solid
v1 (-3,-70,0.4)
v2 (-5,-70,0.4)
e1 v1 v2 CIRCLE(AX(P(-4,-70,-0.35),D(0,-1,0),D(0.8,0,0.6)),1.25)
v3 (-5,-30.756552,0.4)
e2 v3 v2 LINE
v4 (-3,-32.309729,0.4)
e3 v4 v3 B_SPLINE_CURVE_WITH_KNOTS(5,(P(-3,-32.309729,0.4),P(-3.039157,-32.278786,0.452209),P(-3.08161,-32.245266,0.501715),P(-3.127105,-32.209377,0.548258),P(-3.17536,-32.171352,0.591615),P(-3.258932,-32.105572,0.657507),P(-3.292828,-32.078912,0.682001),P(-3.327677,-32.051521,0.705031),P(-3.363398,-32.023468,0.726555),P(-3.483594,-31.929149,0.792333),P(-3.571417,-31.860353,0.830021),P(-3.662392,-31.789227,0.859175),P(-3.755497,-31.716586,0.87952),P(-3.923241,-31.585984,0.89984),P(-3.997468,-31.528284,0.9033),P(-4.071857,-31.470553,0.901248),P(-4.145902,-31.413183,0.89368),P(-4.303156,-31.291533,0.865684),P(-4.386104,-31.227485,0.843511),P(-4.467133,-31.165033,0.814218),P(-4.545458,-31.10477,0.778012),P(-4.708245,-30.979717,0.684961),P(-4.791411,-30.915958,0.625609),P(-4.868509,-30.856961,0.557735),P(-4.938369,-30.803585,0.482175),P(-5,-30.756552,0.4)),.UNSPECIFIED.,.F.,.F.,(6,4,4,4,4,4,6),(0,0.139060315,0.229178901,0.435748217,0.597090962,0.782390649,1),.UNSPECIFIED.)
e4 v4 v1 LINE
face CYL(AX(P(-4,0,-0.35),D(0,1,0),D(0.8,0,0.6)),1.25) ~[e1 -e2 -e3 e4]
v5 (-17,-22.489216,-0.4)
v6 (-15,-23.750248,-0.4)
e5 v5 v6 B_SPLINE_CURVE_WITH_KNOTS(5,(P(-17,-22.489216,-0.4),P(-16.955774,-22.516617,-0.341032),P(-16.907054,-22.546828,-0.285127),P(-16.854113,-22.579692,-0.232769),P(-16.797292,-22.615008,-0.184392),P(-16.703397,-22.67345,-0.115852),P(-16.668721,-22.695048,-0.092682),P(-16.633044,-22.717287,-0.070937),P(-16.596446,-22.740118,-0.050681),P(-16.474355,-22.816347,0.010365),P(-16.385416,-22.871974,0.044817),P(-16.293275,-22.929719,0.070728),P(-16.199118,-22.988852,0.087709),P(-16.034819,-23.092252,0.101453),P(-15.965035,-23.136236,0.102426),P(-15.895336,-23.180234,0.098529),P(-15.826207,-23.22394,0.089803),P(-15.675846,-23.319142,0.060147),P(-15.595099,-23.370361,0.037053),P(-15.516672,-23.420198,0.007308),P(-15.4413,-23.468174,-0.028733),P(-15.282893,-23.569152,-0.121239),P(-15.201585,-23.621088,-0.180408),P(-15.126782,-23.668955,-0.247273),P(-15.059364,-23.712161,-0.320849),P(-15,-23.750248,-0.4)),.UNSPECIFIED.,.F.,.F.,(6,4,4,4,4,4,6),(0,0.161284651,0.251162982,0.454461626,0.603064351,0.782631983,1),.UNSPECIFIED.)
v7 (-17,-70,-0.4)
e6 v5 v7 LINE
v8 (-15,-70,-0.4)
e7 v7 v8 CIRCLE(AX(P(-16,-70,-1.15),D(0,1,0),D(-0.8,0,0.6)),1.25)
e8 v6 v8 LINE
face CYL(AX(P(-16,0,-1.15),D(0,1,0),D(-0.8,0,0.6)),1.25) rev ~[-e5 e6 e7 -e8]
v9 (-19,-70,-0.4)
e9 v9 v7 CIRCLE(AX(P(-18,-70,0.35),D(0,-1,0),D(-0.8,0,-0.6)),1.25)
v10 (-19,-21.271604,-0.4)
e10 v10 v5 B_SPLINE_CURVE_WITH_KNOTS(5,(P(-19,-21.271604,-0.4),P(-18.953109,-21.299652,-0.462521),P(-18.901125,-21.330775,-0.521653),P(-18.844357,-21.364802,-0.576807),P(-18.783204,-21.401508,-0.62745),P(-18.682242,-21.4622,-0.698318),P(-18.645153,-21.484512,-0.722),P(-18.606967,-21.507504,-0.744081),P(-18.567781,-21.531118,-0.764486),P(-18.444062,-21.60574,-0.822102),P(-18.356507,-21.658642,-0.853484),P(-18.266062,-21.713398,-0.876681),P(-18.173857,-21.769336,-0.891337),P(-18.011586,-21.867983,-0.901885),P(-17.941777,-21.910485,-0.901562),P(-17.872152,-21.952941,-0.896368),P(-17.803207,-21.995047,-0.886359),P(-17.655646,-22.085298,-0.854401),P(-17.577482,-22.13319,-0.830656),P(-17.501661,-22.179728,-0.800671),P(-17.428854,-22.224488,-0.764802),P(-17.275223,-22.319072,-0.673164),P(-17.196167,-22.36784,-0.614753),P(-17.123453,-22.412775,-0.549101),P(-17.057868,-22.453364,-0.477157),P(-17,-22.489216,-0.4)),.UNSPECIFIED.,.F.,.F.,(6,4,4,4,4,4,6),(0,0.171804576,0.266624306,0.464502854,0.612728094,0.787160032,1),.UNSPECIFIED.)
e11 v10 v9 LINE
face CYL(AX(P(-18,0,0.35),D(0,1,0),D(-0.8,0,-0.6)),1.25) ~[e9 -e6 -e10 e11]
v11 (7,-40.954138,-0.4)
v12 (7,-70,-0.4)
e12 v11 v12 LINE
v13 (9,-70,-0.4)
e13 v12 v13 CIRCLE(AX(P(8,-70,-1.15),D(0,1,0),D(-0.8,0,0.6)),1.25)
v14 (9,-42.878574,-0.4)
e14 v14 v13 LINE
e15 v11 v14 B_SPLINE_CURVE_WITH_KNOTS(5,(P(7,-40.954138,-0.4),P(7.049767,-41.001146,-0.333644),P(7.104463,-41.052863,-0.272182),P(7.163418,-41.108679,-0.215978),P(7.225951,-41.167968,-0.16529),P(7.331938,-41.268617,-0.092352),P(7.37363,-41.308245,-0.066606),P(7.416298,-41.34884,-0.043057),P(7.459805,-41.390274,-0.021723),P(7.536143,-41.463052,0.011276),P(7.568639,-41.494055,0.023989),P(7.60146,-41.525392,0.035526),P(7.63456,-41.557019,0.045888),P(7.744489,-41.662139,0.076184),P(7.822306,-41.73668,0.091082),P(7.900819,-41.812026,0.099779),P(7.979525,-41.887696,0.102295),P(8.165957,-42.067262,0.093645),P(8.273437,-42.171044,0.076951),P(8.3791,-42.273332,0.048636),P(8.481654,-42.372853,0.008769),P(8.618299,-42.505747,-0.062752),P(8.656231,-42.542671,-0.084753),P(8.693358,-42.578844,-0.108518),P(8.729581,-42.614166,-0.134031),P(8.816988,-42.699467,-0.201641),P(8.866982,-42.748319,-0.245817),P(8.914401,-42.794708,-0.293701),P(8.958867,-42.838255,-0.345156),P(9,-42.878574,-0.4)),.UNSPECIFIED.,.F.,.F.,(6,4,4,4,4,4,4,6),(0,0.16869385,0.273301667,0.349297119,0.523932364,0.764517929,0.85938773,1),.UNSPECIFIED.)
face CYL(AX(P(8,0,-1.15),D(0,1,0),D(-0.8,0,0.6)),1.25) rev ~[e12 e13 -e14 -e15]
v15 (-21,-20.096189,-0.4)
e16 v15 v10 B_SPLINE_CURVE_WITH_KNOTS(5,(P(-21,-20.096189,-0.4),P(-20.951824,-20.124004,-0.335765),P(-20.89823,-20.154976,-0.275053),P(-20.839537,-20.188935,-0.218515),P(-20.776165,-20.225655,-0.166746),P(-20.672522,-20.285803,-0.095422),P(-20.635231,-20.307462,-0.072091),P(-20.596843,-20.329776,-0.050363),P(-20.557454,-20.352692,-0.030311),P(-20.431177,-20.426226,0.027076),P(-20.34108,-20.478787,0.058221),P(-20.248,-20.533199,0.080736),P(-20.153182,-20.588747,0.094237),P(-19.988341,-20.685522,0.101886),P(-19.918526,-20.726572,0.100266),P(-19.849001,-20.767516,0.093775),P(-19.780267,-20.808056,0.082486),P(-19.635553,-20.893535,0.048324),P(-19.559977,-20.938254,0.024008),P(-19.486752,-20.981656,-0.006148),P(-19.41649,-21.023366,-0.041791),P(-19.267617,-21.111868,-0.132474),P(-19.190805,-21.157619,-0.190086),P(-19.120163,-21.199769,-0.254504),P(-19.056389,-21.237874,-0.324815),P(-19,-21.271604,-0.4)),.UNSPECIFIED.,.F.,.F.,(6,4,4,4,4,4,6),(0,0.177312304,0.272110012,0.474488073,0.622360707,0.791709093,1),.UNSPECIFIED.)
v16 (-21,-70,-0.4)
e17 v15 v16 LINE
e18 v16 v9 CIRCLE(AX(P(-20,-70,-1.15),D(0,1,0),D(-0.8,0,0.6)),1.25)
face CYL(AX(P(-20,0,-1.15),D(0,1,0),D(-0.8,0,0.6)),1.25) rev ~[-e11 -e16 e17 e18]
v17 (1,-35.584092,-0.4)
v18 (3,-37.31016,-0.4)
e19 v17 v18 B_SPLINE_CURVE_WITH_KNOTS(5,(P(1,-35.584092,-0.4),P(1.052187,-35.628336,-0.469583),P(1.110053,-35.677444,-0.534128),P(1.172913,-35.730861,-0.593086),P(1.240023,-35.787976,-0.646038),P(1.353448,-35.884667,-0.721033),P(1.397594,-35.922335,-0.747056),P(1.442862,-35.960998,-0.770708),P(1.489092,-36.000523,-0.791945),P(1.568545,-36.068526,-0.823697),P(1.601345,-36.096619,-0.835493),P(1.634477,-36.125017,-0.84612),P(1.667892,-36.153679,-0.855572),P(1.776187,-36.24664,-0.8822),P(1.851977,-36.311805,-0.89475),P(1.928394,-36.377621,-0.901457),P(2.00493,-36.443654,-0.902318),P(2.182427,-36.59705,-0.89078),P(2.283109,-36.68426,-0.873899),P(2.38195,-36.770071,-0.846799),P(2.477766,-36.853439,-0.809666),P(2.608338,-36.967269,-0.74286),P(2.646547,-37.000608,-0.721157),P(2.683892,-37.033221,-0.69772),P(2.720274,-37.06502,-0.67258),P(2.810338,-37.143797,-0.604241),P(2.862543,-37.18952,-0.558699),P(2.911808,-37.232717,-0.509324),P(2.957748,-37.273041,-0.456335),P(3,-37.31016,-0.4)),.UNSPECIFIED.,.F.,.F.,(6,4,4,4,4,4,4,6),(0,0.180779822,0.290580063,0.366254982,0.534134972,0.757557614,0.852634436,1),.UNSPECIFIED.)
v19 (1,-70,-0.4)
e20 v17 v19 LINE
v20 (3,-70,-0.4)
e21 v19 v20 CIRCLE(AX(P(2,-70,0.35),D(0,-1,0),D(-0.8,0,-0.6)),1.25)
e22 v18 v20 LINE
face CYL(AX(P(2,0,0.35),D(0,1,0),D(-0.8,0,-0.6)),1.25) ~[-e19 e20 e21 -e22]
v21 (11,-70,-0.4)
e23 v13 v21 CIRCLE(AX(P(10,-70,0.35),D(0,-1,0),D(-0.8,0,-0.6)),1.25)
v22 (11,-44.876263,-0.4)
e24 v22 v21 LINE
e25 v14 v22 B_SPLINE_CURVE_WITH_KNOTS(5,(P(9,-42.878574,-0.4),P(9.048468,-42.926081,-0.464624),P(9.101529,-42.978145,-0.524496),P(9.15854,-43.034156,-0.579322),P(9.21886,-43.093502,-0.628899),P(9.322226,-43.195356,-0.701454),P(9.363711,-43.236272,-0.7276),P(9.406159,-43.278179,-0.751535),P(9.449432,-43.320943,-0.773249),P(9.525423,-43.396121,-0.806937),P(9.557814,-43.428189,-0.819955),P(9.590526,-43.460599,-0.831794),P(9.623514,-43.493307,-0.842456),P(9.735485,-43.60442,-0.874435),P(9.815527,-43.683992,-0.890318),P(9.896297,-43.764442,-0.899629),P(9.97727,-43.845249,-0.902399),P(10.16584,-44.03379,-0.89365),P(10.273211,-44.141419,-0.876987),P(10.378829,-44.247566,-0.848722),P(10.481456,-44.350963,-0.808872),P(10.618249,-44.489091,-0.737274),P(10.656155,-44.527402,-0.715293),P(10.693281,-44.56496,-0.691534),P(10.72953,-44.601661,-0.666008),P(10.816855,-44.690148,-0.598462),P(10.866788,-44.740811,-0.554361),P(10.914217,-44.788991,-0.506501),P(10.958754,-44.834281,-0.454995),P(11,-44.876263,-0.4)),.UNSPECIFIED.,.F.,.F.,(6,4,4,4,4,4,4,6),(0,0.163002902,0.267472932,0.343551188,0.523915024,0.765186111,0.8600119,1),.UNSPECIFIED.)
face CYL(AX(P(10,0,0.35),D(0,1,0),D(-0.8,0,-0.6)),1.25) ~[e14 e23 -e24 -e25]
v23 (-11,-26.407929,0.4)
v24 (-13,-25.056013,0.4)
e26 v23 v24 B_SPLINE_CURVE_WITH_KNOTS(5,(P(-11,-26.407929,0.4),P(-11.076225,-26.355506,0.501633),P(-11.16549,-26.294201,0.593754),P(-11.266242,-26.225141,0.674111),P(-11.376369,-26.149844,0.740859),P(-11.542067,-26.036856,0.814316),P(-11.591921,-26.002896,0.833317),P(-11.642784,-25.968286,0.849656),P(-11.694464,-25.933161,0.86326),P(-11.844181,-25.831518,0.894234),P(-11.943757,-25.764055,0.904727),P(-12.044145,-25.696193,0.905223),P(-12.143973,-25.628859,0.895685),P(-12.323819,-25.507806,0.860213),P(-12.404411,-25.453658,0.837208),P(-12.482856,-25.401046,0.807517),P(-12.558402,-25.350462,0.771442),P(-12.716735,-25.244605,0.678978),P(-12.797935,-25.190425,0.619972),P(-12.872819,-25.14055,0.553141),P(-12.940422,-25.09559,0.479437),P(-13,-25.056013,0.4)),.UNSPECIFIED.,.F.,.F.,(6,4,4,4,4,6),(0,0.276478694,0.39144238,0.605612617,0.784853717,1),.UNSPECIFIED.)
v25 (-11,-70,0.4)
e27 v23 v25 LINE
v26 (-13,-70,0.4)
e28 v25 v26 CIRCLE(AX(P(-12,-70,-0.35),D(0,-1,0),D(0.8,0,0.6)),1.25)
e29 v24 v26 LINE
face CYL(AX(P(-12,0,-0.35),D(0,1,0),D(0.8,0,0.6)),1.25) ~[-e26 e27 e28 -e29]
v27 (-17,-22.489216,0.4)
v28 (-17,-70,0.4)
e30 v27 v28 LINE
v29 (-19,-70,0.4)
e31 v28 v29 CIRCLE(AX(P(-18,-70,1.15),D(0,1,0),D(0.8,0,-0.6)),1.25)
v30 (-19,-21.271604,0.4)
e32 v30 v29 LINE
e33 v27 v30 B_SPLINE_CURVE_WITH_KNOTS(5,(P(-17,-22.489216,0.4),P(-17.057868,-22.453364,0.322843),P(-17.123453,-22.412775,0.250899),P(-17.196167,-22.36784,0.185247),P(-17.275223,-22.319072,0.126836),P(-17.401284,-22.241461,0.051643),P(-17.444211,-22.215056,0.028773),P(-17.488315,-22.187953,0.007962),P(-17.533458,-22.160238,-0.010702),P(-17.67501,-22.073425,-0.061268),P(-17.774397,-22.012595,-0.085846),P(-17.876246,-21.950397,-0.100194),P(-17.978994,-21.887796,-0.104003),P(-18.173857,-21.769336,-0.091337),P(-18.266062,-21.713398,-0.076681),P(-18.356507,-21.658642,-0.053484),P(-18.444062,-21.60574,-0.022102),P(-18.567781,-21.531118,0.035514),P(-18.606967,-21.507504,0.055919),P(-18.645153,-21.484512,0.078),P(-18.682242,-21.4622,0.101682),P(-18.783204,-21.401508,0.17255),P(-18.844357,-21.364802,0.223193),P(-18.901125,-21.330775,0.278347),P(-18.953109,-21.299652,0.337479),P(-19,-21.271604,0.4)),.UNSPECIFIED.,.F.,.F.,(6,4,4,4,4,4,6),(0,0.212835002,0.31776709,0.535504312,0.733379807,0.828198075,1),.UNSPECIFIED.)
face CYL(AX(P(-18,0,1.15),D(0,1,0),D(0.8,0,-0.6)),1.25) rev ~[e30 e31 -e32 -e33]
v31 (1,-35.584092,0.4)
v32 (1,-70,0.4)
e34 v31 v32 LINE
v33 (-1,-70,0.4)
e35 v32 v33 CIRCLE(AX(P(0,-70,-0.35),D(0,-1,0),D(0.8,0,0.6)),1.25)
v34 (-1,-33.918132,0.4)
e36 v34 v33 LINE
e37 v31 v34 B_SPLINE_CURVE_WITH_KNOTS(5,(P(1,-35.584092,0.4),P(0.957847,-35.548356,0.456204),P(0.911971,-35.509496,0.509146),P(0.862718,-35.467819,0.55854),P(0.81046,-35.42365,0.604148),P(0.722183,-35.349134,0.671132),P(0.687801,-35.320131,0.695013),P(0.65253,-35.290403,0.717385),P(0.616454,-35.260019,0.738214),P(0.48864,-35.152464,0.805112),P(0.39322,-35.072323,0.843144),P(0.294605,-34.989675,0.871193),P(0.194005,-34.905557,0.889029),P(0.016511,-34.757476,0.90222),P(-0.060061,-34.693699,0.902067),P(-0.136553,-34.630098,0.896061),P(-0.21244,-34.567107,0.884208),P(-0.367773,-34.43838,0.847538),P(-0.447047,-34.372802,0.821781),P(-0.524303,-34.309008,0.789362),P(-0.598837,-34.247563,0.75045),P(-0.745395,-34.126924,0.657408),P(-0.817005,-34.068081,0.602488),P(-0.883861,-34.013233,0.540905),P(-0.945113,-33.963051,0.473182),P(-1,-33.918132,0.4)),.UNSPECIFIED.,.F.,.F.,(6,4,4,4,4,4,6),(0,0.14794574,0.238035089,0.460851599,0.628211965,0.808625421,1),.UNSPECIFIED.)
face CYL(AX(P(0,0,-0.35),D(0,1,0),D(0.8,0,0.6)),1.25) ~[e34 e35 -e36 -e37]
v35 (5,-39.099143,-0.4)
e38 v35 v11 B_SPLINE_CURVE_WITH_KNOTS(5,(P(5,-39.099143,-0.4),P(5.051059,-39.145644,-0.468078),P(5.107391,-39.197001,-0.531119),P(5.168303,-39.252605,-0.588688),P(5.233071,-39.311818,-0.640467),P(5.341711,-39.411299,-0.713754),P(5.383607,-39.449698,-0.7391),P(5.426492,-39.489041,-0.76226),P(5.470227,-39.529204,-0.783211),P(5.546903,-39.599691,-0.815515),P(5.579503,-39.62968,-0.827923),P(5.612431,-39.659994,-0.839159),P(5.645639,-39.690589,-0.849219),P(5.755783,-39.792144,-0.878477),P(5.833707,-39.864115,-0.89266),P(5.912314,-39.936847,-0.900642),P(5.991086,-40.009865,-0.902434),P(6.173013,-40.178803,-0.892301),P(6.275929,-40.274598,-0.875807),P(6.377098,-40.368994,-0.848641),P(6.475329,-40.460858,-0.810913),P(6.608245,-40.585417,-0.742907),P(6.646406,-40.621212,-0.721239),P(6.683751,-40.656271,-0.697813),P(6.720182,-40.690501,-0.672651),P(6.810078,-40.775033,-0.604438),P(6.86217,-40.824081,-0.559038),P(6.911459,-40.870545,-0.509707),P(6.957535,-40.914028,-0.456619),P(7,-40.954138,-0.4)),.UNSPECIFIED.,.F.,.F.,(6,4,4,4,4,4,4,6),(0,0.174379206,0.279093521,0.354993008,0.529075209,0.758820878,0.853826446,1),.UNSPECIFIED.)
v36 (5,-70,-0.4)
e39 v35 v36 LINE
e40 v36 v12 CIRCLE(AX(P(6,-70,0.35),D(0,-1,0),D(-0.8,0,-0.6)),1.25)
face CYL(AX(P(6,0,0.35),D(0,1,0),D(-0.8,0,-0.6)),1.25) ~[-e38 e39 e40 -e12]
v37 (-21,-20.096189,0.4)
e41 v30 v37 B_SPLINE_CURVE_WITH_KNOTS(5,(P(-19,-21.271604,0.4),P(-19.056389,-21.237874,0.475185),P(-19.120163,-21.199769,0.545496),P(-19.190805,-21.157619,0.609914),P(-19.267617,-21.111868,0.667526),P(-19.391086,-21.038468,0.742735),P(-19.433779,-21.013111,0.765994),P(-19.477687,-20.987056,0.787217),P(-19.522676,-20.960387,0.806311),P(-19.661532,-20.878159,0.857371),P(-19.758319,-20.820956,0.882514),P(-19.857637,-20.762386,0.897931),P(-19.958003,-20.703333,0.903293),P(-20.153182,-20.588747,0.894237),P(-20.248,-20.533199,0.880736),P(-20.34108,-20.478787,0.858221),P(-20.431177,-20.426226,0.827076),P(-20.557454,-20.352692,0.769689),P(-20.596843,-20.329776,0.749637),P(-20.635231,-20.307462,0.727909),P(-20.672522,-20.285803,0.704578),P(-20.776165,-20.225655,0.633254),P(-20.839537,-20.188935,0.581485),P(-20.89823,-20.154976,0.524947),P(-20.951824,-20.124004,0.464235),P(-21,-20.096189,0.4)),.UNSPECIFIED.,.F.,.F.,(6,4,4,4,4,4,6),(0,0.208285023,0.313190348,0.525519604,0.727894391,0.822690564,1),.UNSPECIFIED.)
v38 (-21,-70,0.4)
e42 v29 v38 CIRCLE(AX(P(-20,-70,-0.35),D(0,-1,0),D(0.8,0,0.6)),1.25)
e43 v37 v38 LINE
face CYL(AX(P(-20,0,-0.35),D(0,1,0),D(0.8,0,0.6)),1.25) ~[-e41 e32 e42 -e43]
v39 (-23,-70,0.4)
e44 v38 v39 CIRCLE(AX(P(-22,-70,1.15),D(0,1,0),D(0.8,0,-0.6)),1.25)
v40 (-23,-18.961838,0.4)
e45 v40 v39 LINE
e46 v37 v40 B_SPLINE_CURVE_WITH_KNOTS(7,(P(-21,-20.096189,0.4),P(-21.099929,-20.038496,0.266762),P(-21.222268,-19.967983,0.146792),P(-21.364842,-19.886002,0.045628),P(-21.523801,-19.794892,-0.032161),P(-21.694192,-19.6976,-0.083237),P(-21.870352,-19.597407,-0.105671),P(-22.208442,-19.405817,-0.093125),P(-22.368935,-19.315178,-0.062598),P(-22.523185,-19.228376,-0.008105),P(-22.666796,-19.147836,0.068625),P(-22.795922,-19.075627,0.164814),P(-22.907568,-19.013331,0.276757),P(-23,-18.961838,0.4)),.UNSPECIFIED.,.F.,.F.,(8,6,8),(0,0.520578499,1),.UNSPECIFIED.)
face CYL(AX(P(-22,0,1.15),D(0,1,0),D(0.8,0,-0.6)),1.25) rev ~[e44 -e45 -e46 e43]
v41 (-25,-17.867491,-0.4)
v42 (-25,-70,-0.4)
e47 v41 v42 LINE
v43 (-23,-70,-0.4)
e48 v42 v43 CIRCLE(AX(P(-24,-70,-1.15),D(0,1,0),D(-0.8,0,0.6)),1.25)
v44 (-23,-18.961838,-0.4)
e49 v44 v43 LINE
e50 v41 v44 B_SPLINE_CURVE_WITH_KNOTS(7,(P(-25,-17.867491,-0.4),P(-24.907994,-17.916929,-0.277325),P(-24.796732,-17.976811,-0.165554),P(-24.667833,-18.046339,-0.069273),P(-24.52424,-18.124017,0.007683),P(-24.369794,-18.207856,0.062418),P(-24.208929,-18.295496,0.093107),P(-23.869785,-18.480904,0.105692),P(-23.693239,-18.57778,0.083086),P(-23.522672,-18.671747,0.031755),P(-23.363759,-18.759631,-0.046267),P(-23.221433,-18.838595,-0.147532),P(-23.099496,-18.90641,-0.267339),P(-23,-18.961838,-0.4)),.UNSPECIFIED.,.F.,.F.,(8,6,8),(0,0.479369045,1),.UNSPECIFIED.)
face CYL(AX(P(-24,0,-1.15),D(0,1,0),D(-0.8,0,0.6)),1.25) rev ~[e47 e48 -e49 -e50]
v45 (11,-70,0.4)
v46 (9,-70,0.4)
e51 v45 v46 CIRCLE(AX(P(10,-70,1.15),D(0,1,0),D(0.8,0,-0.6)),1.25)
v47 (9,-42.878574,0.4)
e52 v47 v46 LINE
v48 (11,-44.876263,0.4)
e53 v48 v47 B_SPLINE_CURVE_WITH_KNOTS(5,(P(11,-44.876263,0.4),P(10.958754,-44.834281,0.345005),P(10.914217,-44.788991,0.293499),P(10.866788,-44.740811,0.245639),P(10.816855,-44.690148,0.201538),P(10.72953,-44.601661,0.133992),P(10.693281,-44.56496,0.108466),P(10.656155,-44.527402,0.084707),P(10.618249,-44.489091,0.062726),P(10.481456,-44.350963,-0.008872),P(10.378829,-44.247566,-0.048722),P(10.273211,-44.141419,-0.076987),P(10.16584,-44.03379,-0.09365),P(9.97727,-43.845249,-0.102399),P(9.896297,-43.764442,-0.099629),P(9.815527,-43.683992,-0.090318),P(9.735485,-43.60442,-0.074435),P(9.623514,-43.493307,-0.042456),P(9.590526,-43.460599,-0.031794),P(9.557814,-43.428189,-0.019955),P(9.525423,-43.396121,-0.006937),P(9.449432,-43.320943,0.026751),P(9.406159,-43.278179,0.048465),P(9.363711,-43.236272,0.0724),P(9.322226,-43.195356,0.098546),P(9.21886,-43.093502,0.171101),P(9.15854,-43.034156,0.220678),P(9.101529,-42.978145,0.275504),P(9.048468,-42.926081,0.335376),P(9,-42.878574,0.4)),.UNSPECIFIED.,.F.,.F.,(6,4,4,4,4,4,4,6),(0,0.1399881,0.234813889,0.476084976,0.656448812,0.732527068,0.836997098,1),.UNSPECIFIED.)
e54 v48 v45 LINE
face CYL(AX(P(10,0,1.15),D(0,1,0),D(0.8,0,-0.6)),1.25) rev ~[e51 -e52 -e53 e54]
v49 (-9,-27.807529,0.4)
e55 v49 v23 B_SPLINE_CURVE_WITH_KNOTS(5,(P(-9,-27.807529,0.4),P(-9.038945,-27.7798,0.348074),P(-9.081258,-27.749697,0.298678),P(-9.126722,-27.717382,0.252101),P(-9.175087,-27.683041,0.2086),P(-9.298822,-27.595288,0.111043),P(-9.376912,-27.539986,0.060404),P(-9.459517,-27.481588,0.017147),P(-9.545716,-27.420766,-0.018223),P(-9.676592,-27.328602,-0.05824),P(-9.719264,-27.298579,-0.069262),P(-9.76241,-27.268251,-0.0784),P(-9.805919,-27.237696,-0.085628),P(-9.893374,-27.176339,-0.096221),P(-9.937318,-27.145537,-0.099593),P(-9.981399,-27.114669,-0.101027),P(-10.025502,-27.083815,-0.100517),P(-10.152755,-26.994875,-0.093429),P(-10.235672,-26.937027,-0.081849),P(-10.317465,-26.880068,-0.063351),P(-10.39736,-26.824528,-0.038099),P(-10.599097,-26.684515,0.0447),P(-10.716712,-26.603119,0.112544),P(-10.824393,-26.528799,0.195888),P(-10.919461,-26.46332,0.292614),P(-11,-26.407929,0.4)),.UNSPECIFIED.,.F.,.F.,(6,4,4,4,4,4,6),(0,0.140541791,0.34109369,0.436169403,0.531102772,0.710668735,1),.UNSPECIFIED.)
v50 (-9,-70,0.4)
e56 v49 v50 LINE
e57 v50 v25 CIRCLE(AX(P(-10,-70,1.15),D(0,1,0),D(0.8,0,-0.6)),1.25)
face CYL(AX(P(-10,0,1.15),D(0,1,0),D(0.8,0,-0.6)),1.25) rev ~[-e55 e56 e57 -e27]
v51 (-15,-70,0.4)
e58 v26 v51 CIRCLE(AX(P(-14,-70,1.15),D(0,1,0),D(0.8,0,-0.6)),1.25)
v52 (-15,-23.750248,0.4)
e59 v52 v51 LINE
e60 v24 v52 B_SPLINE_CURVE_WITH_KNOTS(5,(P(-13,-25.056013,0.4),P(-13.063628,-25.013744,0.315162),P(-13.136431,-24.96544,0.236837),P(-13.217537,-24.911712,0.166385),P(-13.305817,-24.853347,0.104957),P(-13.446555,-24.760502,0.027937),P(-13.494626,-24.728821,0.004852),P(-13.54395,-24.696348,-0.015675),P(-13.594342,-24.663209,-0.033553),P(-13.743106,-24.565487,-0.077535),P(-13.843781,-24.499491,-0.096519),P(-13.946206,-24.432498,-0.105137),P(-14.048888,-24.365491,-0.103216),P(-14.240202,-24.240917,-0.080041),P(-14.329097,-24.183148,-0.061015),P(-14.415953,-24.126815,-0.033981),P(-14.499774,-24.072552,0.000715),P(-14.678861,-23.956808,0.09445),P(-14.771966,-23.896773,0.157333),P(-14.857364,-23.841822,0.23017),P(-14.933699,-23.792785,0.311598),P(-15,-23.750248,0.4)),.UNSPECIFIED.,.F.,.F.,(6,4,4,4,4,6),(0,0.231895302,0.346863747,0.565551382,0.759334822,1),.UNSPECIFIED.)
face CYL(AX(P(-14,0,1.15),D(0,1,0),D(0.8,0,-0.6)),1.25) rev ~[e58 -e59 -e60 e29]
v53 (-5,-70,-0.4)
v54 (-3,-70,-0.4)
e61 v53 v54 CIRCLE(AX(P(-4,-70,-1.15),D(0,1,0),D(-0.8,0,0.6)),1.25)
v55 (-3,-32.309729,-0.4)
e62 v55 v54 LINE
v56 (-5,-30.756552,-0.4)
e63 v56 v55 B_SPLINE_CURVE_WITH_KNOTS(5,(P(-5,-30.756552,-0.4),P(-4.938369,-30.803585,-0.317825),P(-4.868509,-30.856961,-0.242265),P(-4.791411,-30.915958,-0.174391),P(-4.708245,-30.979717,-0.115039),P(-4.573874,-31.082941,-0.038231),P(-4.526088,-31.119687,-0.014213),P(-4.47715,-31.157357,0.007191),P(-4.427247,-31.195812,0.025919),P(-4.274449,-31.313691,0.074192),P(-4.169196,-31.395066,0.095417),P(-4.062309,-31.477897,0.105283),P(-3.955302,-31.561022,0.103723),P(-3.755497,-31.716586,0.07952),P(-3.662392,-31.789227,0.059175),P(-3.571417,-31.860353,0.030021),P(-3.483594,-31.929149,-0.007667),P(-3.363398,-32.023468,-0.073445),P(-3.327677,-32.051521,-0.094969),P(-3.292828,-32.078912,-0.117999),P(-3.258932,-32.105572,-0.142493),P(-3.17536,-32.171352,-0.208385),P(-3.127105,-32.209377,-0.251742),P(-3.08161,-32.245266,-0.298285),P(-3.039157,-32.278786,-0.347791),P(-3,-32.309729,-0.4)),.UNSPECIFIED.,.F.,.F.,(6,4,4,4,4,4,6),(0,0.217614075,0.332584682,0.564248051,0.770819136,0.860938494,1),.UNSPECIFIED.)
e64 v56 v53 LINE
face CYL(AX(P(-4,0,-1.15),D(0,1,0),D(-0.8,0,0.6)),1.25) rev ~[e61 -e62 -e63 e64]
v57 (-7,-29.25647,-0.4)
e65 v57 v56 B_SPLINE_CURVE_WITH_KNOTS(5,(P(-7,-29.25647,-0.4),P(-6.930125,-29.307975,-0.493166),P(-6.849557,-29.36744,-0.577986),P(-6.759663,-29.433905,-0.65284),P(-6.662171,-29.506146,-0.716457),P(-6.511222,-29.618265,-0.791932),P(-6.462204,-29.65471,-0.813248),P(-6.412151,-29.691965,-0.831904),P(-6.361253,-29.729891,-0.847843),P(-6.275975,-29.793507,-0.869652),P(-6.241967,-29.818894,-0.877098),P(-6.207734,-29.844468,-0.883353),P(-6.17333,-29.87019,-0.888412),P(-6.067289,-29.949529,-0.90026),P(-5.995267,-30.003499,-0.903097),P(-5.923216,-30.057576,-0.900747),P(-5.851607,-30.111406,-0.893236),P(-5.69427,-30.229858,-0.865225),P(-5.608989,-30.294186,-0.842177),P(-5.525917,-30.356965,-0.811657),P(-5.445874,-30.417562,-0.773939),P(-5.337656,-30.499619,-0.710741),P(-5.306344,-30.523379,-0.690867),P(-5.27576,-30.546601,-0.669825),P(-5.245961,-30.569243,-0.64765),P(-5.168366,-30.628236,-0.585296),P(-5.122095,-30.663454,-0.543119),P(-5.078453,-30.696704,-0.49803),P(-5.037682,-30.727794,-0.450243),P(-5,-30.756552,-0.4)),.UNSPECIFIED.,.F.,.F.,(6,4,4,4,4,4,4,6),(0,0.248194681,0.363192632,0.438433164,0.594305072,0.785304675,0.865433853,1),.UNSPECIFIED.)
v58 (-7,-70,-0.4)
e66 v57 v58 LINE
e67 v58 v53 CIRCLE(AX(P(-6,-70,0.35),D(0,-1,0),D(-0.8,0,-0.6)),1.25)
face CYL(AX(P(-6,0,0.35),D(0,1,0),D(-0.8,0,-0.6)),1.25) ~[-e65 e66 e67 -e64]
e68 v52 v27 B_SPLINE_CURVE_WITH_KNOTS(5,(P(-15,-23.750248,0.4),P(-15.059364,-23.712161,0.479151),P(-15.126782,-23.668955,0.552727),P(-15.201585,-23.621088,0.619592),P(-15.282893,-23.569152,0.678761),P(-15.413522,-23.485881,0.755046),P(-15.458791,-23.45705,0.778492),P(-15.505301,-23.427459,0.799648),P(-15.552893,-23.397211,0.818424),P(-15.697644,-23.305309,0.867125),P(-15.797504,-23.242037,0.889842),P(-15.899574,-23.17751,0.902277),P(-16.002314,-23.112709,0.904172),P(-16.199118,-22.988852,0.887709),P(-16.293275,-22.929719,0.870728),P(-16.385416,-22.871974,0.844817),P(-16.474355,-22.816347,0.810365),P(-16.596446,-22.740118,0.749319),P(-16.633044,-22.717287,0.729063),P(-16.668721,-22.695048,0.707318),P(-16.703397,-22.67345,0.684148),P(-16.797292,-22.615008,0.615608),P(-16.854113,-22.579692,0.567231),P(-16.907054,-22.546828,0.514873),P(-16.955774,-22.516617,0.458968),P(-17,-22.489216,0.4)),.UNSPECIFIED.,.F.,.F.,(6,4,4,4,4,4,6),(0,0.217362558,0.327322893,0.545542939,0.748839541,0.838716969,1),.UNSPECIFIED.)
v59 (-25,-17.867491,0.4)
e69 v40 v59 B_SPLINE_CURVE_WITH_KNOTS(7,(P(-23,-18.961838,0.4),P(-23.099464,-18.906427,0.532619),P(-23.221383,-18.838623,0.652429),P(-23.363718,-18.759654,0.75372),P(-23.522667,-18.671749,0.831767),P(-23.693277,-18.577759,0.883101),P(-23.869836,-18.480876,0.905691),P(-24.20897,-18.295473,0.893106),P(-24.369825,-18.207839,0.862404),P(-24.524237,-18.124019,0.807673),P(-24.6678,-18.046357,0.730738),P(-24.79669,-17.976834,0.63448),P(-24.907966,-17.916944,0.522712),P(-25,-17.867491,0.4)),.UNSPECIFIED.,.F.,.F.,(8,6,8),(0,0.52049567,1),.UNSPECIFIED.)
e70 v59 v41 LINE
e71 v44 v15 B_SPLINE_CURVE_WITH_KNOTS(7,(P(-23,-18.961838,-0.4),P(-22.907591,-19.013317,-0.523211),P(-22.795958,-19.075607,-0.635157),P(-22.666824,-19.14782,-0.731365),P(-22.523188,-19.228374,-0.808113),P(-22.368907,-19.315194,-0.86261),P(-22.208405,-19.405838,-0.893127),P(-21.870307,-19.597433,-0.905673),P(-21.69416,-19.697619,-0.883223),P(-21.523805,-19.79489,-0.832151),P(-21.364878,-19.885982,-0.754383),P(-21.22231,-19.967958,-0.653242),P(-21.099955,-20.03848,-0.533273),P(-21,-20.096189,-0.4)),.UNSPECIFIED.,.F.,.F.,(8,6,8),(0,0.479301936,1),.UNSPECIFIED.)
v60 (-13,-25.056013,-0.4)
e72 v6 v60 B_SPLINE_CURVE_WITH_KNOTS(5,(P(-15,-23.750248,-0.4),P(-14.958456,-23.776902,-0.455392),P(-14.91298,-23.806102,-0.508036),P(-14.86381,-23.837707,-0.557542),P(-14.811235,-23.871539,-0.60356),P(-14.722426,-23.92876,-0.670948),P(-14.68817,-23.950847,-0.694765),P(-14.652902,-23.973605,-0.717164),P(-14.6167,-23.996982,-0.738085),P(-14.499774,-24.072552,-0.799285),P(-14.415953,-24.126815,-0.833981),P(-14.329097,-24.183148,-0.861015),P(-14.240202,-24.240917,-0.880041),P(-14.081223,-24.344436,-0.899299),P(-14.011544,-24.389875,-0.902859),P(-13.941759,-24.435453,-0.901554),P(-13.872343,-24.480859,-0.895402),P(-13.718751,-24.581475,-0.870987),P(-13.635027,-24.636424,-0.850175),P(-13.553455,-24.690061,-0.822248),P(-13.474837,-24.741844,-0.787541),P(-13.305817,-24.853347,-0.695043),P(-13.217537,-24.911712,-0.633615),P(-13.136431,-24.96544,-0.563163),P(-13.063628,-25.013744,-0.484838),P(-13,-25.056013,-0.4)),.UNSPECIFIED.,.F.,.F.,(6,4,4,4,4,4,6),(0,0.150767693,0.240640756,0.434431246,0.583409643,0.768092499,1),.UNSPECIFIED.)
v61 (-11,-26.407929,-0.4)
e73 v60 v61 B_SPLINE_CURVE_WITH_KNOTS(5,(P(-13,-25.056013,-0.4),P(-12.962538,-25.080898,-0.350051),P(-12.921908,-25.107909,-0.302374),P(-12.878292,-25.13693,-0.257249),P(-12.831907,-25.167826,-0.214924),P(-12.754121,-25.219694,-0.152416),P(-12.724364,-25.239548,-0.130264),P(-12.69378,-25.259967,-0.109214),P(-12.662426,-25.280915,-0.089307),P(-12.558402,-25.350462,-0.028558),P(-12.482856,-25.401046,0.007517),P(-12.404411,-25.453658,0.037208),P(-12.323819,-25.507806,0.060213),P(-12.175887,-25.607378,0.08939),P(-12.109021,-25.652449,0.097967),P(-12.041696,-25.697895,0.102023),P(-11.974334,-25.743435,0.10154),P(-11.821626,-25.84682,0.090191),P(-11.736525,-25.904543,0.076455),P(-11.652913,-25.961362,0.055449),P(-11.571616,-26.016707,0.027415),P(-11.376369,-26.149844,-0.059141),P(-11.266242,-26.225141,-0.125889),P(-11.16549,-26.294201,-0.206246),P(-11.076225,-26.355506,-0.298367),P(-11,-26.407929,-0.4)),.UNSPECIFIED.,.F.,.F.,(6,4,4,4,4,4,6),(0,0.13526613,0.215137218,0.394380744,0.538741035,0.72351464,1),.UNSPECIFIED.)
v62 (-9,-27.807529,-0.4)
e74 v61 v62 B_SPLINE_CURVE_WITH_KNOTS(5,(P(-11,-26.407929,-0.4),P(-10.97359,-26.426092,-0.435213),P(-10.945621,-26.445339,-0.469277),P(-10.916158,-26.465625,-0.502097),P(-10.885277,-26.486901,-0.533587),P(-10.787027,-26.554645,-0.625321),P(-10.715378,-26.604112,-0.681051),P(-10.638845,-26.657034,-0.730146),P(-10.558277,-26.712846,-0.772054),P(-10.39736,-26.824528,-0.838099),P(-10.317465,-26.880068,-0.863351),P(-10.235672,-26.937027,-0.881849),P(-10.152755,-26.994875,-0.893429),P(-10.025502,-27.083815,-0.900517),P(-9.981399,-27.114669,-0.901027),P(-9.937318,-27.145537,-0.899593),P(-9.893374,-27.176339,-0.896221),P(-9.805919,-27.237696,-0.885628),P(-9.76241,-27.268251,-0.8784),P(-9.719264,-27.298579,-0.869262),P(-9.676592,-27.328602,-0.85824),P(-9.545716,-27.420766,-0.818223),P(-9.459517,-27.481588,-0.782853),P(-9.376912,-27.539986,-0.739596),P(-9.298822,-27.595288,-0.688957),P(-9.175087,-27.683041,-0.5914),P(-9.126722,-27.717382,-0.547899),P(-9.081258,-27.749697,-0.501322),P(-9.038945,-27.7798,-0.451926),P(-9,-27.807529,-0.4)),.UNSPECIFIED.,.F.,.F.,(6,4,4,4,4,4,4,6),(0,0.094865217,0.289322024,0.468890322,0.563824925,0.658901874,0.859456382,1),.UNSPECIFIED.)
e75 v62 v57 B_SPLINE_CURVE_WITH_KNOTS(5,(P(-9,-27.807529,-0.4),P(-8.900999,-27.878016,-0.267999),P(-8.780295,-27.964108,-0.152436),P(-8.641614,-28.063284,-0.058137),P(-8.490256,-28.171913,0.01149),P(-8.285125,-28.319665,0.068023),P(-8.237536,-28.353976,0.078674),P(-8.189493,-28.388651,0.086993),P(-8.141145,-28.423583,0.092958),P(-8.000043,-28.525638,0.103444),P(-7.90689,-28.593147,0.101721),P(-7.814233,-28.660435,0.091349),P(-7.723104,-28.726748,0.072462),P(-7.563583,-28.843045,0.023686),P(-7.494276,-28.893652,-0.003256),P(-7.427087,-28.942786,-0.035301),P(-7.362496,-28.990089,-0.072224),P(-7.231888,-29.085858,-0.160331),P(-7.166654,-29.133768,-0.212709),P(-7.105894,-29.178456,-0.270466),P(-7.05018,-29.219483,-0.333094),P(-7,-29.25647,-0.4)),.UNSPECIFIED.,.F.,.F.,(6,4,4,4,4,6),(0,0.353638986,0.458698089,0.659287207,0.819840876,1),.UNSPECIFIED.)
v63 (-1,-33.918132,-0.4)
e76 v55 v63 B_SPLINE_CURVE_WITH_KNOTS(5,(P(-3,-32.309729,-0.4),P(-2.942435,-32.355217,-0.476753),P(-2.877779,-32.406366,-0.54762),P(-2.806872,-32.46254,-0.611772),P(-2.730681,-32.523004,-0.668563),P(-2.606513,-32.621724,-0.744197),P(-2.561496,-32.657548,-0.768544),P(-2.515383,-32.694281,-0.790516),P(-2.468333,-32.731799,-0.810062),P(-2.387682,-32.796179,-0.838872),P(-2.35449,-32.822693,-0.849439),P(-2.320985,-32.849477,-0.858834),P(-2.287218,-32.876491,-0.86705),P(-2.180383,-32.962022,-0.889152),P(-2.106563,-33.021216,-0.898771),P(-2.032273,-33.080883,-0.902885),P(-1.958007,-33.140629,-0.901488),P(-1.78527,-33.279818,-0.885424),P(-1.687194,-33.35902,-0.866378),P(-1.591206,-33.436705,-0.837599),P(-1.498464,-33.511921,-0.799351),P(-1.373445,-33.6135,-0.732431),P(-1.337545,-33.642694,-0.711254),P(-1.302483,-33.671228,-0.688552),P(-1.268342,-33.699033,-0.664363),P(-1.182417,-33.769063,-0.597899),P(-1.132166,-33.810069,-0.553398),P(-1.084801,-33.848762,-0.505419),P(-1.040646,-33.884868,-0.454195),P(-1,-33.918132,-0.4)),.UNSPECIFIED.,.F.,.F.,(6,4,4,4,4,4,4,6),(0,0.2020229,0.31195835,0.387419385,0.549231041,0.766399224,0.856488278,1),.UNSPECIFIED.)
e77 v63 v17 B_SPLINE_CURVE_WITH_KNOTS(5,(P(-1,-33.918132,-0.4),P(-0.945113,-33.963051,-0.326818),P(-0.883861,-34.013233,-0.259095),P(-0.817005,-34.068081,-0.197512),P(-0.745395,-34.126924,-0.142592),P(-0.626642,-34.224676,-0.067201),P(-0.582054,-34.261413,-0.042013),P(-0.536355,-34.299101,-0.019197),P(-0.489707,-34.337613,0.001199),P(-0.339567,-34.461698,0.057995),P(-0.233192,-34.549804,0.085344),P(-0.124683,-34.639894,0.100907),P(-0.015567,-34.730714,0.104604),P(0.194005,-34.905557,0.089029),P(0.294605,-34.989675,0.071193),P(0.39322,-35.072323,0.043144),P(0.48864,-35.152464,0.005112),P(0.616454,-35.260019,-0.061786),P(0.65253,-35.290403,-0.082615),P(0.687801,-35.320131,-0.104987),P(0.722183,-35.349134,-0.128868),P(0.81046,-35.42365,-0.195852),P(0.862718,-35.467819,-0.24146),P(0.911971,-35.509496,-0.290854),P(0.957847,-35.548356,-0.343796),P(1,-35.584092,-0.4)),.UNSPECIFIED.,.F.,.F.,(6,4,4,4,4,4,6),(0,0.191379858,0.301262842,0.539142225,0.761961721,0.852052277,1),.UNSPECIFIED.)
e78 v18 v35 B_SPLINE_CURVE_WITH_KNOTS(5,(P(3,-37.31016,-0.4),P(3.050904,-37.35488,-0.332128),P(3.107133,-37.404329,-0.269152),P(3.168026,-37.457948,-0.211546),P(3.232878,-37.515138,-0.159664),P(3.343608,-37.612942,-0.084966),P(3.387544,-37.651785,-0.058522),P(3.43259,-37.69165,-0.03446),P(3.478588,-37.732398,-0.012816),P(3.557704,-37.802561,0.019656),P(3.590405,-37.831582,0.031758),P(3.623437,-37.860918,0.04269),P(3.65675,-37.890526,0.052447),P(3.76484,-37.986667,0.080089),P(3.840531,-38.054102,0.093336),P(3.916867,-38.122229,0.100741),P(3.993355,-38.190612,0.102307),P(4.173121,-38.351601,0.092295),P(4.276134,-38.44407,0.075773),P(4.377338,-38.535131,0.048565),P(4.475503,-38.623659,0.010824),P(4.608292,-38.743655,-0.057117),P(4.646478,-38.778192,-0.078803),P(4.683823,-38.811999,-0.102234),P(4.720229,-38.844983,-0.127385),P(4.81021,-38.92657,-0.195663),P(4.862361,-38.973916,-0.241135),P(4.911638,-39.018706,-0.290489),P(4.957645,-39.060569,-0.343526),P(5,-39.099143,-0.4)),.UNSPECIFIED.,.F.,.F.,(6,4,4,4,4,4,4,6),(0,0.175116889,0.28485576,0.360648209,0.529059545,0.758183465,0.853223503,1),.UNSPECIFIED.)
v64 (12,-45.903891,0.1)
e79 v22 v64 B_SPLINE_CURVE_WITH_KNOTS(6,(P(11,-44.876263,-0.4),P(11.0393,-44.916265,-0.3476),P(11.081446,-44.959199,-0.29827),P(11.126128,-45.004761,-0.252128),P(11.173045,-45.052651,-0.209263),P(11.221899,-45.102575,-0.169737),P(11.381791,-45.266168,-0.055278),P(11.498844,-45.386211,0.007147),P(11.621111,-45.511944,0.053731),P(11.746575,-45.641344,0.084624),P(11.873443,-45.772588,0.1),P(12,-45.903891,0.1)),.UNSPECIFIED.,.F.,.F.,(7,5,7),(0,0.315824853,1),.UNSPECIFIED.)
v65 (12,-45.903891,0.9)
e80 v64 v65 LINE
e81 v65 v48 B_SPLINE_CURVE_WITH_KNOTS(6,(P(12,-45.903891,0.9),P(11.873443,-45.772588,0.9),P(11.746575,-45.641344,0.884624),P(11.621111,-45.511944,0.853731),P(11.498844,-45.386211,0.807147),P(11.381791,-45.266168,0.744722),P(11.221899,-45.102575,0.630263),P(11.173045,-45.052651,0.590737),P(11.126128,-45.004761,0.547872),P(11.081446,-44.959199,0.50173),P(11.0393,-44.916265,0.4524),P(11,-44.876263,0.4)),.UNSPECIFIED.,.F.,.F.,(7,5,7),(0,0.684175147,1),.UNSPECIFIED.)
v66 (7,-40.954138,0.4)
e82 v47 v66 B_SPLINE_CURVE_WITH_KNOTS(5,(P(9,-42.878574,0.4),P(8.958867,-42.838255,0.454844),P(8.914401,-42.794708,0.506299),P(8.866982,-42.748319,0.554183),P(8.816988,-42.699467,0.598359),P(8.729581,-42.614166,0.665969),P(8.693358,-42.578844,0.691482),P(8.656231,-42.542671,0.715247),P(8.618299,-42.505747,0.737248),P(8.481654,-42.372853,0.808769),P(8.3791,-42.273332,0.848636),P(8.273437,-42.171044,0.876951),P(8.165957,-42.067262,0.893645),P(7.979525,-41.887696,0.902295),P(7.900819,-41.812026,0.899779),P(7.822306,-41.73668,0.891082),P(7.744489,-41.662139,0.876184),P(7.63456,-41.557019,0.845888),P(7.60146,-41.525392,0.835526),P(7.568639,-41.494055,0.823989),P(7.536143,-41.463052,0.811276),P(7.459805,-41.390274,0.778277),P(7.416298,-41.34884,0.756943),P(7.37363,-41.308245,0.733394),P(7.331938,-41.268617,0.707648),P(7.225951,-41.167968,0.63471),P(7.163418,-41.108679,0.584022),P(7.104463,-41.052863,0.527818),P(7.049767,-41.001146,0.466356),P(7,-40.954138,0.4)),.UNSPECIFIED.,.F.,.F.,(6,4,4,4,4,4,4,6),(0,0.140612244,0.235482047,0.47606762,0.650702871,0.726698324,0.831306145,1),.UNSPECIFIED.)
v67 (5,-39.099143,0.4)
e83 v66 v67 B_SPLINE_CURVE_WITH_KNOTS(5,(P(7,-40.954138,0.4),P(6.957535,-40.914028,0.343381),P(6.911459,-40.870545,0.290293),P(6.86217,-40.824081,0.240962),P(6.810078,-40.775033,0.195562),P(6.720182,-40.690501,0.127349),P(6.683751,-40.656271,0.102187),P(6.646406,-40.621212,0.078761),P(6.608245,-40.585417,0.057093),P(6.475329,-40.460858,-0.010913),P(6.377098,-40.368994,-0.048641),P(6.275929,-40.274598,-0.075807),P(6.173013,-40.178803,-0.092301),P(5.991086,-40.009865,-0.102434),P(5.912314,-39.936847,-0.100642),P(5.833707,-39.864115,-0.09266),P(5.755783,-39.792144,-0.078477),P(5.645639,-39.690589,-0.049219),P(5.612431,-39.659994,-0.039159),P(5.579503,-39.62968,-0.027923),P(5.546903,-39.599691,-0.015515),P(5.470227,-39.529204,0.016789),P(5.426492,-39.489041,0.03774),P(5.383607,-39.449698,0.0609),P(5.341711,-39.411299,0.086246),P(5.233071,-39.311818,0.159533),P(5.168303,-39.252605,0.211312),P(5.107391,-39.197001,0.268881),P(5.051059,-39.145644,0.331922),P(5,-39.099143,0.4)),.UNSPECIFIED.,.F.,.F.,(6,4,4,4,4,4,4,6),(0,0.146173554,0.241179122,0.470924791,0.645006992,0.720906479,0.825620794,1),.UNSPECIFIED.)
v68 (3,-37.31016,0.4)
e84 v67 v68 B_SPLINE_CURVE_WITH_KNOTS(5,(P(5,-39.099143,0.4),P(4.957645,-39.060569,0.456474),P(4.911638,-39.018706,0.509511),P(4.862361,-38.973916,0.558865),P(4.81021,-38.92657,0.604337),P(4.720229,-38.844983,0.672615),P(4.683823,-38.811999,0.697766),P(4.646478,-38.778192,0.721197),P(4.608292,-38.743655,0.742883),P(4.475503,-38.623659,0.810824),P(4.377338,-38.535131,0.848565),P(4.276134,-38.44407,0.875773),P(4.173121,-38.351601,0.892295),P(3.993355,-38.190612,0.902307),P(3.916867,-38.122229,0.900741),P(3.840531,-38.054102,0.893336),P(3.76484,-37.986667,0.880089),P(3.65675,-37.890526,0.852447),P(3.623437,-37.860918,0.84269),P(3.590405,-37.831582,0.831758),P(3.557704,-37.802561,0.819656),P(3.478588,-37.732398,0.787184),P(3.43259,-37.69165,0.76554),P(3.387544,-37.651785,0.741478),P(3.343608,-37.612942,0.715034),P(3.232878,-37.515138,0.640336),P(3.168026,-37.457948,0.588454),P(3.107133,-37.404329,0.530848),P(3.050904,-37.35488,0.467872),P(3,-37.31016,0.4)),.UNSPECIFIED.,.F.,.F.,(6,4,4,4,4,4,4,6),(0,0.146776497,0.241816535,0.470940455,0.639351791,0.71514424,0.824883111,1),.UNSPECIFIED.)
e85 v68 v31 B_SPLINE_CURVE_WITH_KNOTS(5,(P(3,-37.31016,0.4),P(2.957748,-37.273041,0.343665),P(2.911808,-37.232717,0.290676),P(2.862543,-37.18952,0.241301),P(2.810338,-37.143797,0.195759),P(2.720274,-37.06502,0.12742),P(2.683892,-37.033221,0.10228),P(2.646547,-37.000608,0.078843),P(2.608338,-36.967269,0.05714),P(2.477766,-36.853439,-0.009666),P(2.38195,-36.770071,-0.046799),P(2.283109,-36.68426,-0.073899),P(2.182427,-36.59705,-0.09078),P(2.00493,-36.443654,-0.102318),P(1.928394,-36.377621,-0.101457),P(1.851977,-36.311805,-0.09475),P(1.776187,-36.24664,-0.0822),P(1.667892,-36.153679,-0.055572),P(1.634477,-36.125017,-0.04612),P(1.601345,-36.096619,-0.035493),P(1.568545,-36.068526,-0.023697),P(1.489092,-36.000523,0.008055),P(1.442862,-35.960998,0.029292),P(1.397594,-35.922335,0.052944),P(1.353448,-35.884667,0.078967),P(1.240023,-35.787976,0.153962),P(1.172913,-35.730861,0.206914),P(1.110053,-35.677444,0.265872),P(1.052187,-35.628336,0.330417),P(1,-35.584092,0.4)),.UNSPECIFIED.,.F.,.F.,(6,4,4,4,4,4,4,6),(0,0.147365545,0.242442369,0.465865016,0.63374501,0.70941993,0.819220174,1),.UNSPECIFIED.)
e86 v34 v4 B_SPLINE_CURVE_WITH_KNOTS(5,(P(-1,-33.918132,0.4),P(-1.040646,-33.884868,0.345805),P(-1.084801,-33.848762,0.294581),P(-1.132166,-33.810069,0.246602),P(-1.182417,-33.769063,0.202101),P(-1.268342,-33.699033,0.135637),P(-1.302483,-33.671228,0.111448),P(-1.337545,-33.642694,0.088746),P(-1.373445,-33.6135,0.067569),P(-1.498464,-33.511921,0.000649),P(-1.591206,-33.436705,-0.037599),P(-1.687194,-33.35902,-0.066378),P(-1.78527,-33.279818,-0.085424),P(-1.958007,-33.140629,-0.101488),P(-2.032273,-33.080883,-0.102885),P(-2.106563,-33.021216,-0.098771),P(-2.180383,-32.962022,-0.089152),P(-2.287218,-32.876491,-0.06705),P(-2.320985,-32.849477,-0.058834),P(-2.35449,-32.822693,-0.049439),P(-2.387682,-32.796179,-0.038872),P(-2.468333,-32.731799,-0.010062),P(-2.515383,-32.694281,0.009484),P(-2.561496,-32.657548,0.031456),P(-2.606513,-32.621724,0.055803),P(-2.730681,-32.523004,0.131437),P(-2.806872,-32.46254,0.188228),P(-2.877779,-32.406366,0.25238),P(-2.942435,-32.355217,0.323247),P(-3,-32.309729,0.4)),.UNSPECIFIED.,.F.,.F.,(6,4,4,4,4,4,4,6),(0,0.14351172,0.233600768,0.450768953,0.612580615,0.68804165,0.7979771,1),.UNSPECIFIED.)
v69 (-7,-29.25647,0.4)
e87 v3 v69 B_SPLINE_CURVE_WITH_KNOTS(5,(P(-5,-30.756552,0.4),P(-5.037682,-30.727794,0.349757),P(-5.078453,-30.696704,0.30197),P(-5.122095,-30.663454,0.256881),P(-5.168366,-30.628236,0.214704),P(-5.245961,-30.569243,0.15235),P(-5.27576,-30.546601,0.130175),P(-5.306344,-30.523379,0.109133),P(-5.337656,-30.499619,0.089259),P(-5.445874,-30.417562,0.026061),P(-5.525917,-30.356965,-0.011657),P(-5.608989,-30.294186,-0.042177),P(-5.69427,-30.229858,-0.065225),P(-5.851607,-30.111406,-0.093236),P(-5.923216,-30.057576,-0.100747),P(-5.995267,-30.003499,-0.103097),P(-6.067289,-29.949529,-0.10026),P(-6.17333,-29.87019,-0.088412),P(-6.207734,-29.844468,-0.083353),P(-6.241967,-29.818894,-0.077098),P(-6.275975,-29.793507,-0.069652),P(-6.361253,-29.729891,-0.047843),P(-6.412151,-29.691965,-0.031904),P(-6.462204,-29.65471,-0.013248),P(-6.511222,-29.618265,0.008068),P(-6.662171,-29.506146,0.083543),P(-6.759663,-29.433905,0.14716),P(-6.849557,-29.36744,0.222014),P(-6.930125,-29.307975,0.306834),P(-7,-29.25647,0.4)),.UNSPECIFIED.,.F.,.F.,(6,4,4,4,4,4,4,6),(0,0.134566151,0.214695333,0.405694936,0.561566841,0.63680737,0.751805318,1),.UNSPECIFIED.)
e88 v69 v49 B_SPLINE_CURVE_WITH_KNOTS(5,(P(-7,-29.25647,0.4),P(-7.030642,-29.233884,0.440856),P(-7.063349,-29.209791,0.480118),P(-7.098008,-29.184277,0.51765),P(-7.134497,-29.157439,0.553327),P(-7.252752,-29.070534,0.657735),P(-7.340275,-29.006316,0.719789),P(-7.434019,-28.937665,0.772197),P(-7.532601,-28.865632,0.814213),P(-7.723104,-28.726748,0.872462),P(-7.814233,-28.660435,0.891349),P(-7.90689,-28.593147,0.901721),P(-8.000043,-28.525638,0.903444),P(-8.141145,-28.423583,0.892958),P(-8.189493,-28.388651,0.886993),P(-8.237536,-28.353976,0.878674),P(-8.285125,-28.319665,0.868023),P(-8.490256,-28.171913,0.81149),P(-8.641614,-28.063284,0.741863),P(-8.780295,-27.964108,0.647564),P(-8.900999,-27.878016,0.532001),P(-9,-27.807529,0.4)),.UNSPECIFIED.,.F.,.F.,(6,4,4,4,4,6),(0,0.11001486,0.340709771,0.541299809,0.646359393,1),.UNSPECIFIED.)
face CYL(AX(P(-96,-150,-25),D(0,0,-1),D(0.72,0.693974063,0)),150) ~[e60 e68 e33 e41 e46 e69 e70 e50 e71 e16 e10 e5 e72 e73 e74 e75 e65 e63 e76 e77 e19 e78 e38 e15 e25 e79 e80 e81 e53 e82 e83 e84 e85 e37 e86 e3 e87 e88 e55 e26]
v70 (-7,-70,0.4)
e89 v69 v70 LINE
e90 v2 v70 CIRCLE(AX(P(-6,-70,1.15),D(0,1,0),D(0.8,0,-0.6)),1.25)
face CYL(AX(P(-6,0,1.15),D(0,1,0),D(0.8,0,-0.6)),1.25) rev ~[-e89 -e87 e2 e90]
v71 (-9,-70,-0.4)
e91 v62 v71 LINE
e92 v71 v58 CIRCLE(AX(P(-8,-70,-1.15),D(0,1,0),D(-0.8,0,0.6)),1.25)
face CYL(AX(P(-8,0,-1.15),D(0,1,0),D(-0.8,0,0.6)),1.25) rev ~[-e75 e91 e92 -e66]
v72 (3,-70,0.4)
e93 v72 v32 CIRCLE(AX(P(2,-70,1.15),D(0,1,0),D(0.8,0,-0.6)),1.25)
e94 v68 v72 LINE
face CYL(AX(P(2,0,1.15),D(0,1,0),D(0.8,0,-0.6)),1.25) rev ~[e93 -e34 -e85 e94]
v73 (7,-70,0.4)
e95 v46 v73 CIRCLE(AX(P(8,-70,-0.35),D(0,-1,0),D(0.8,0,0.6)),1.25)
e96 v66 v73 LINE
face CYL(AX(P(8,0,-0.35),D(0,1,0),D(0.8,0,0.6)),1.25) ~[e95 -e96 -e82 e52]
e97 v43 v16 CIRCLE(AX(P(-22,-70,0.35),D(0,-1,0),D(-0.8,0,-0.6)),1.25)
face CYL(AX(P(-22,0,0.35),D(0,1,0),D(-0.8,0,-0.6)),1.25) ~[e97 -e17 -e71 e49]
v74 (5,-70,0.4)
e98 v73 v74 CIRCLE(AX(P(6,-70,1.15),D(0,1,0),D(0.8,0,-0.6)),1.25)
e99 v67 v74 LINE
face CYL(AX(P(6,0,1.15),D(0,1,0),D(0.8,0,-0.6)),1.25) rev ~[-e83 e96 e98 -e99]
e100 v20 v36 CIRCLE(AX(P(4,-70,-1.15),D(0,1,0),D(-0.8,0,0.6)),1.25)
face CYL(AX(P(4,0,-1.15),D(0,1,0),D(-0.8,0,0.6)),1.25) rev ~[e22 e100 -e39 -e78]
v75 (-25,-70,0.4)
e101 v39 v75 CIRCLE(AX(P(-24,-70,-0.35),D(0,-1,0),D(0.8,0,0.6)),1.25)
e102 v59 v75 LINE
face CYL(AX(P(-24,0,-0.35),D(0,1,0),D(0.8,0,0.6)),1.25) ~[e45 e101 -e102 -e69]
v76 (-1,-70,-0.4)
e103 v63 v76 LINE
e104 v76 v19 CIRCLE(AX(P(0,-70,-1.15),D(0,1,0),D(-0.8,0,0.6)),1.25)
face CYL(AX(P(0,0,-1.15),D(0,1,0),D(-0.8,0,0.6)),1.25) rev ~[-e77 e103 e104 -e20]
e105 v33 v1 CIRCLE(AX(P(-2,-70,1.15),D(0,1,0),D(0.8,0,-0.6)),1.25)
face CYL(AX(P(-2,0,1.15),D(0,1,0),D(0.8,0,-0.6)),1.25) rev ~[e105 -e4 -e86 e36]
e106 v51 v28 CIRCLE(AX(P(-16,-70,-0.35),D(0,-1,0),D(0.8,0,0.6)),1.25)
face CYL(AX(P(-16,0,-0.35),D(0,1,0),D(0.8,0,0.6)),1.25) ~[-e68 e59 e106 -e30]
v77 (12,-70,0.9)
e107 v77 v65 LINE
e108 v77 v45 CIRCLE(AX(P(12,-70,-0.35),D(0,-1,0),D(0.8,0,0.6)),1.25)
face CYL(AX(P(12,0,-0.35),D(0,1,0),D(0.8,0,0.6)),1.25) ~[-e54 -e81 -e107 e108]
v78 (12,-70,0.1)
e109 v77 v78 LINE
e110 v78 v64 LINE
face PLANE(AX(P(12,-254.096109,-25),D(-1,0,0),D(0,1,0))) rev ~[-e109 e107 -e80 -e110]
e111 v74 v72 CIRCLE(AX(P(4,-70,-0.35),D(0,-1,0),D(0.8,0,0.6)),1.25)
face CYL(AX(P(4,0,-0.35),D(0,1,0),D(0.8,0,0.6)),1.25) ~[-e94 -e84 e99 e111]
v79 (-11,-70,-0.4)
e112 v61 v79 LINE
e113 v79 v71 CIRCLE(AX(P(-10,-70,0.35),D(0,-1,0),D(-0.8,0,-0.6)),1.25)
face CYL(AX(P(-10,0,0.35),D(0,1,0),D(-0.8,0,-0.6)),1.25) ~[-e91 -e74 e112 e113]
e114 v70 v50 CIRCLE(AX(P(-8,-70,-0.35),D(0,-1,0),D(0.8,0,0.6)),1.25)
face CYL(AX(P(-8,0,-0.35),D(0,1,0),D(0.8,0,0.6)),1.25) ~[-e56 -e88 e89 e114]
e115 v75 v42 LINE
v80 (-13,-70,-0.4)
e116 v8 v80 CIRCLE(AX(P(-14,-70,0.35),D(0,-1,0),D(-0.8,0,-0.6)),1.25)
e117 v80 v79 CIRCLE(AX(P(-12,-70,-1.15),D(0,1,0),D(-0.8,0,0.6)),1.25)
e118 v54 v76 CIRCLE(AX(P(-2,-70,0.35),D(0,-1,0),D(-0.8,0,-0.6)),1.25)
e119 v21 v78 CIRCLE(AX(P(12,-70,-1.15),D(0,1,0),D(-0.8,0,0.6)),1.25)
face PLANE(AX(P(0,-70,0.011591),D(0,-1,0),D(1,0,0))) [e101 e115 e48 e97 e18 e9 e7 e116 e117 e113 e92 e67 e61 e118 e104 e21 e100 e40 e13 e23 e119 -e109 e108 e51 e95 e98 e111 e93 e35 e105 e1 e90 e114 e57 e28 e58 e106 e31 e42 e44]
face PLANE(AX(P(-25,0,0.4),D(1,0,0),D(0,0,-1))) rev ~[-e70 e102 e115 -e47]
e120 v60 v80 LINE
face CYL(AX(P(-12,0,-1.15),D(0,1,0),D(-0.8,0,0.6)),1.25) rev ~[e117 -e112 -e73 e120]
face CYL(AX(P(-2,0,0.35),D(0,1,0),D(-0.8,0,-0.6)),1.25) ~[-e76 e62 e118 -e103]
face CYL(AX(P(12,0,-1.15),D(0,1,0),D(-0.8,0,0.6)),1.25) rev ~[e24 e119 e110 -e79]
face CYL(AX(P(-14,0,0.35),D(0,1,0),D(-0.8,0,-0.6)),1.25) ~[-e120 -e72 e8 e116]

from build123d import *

# Parameters (mm, degrees)
F1_DEPTH = 70
F3_START = -25
F3_DEPTH = 50


with BuildPart() as f1:
    # F0 (on Front) → F1 (new body)
    with BuildSketch(Plane.XZ):
        with BuildLine():
            ThreePointArc((-21, -0.4), (-20, 0.1), (-19, -0.4))
            ThreePointArc((-19, -0.4), (-18, -0.9), (-17, -0.4))
            ThreePointArc((-17, -0.4), (-16, 0.1), (-15, -0.4))
            ThreePointArc((-15, -0.4), (-14, -0.9), (-13, -0.4))
            ThreePointArc((-13, -0.4), (-12, 0.1), (-11, -0.4))
            ThreePointArc((-11, -0.4), (-10, -0.9), (-9, -0.4))
            ThreePointArc((-9, -0.4), (-8, 0.1), (-7, -0.4))
            ThreePointArc((-7, -0.4), (-6, -0.9), (-5, -0.4))
            ThreePointArc((-5, -0.4), (-4, 0.1), (-3, -0.4))
            ThreePointArc((-3, -0.4), (-2, -0.9), (-1, -0.4))
            ThreePointArc((-1, -0.4), (0, 0.1), (1, -0.4))
            ThreePointArc((1, -0.4), (2, -0.9), (3, -0.4))
            ThreePointArc((3, -0.4), (4, 0.1), (5, -0.4))
            ThreePointArc((5, -0.4), (6, -0.9), (7, -0.4))
            ThreePointArc((7, -0.4), (8, 0.1), (9, -0.4))
            ThreePointArc((9, -0.4), (10, -0.9), (11, -0.4))
            ThreePointArc((11, -0.4), (12, 0.1), (13, -0.4))
            ThreePointArc((13, -0.4), (14, -0.9), (15, -0.4))
            ThreePointArc((15, -0.4), (16, 0.1), (17, -0.4))
            ThreePointArc((17, -0.4), (18, -0.9), (19, -0.4))
            ThreePointArc((19, -0.4), (20, 0.1), (21, -0.4))
            ThreePointArc((21, -0.4), (22, -0.9), (23, -0.4))
            ThreePointArc((23, -0.4), (24, 0.1), (25, -0.4))
            Line((25, -0.4), (25, 0.4))
            ThreePointArc((25, 0.4), (24, 0.9), (23, 0.4))
            ThreePointArc((23, 0.4), (22, -0.1), (21, 0.4))
            ThreePointArc((21, 0.4), (20, 0.9), (19, 0.4))
            ThreePointArc((19, 0.4), (18, -0.1), (17, 0.4))
            ThreePointArc((17, 0.4), (16, 0.9), (15, 0.4))
            ThreePointArc((15, 0.4), (14, -0.1), (13, 0.4))
            ThreePointArc((13, 0.4), (12, 0.9), (11, 0.4))
            ThreePointArc((11, 0.4), (10, -0.1), (9, 0.4))
            ThreePointArc((9, 0.4), (8, 0.9), (7, 0.4))
            ThreePointArc((7, 0.4), (6, -0.1), (5, 0.4))
            ThreePointArc((5, 0.4), (4, 0.9), (3, 0.4))
            ThreePointArc((3, 0.4), (2, -0.1), (1, 0.4))
            ThreePointArc((1, 0.4), (0, 0.9), (-1, 0.4))
            ThreePointArc((-1, 0.4), (-2, -0.1), (-3, 0.4))
            ThreePointArc((-3, 0.4), (-4, 0.9), (-5, 0.4))
            ThreePointArc((-5, 0.4), (-6, -0.1), (-7, 0.4))
            ThreePointArc((-7, 0.4), (-8, 0.9), (-9, 0.4))
            ThreePointArc((-9, 0.4), (-10, -0.1), (-11, 0.4))
            ThreePointArc((-11, 0.4), (-12, 0.9), (-13, 0.4))
            ThreePointArc((-13, 0.4), (-14, -0.1), (-15, 0.4))
            ThreePointArc((-15, 0.4), (-16, 0.9), (-17, 0.4))
            ThreePointArc((-17, 0.4), (-18, -0.1), (-19, 0.4))
            ThreePointArc((-19, 0.4), (-20, 0.9), (-21, 0.4))
            ThreePointArc((-21, 0.4), (-22, -0.1), (-23, 0.4))
            ThreePointArc((-23, 0.4), (-24, 0.9), (-25, 0.4))
            Line((-25, 0.4), (-25, -0.4))
            ThreePointArc((-25, -0.4), (-24, 0.1), (-23, -0.4))
            ThreePointArc((-23, -0.4), (-22, -0.9), (-21, -0.4))
        make_face()
    extrude(amount=F1_DEPTH)

    # F2 (on Top) → F3 (intersect)
    with BuildSketch(Plane.XY.offset(F3_START)):
        with BuildLine():
            Line((12, -150), (12, -45.9038905626))
            ThreePointArc((12, -45.9038905626), (-246, -150), (12, -254.0961094374))
            Line((12, -254.0961094374), (12, -150))
        make_face()
    extrude(amount=F3_DEPTH, mode=Mode.INTERSECT)


solid = f1.part
